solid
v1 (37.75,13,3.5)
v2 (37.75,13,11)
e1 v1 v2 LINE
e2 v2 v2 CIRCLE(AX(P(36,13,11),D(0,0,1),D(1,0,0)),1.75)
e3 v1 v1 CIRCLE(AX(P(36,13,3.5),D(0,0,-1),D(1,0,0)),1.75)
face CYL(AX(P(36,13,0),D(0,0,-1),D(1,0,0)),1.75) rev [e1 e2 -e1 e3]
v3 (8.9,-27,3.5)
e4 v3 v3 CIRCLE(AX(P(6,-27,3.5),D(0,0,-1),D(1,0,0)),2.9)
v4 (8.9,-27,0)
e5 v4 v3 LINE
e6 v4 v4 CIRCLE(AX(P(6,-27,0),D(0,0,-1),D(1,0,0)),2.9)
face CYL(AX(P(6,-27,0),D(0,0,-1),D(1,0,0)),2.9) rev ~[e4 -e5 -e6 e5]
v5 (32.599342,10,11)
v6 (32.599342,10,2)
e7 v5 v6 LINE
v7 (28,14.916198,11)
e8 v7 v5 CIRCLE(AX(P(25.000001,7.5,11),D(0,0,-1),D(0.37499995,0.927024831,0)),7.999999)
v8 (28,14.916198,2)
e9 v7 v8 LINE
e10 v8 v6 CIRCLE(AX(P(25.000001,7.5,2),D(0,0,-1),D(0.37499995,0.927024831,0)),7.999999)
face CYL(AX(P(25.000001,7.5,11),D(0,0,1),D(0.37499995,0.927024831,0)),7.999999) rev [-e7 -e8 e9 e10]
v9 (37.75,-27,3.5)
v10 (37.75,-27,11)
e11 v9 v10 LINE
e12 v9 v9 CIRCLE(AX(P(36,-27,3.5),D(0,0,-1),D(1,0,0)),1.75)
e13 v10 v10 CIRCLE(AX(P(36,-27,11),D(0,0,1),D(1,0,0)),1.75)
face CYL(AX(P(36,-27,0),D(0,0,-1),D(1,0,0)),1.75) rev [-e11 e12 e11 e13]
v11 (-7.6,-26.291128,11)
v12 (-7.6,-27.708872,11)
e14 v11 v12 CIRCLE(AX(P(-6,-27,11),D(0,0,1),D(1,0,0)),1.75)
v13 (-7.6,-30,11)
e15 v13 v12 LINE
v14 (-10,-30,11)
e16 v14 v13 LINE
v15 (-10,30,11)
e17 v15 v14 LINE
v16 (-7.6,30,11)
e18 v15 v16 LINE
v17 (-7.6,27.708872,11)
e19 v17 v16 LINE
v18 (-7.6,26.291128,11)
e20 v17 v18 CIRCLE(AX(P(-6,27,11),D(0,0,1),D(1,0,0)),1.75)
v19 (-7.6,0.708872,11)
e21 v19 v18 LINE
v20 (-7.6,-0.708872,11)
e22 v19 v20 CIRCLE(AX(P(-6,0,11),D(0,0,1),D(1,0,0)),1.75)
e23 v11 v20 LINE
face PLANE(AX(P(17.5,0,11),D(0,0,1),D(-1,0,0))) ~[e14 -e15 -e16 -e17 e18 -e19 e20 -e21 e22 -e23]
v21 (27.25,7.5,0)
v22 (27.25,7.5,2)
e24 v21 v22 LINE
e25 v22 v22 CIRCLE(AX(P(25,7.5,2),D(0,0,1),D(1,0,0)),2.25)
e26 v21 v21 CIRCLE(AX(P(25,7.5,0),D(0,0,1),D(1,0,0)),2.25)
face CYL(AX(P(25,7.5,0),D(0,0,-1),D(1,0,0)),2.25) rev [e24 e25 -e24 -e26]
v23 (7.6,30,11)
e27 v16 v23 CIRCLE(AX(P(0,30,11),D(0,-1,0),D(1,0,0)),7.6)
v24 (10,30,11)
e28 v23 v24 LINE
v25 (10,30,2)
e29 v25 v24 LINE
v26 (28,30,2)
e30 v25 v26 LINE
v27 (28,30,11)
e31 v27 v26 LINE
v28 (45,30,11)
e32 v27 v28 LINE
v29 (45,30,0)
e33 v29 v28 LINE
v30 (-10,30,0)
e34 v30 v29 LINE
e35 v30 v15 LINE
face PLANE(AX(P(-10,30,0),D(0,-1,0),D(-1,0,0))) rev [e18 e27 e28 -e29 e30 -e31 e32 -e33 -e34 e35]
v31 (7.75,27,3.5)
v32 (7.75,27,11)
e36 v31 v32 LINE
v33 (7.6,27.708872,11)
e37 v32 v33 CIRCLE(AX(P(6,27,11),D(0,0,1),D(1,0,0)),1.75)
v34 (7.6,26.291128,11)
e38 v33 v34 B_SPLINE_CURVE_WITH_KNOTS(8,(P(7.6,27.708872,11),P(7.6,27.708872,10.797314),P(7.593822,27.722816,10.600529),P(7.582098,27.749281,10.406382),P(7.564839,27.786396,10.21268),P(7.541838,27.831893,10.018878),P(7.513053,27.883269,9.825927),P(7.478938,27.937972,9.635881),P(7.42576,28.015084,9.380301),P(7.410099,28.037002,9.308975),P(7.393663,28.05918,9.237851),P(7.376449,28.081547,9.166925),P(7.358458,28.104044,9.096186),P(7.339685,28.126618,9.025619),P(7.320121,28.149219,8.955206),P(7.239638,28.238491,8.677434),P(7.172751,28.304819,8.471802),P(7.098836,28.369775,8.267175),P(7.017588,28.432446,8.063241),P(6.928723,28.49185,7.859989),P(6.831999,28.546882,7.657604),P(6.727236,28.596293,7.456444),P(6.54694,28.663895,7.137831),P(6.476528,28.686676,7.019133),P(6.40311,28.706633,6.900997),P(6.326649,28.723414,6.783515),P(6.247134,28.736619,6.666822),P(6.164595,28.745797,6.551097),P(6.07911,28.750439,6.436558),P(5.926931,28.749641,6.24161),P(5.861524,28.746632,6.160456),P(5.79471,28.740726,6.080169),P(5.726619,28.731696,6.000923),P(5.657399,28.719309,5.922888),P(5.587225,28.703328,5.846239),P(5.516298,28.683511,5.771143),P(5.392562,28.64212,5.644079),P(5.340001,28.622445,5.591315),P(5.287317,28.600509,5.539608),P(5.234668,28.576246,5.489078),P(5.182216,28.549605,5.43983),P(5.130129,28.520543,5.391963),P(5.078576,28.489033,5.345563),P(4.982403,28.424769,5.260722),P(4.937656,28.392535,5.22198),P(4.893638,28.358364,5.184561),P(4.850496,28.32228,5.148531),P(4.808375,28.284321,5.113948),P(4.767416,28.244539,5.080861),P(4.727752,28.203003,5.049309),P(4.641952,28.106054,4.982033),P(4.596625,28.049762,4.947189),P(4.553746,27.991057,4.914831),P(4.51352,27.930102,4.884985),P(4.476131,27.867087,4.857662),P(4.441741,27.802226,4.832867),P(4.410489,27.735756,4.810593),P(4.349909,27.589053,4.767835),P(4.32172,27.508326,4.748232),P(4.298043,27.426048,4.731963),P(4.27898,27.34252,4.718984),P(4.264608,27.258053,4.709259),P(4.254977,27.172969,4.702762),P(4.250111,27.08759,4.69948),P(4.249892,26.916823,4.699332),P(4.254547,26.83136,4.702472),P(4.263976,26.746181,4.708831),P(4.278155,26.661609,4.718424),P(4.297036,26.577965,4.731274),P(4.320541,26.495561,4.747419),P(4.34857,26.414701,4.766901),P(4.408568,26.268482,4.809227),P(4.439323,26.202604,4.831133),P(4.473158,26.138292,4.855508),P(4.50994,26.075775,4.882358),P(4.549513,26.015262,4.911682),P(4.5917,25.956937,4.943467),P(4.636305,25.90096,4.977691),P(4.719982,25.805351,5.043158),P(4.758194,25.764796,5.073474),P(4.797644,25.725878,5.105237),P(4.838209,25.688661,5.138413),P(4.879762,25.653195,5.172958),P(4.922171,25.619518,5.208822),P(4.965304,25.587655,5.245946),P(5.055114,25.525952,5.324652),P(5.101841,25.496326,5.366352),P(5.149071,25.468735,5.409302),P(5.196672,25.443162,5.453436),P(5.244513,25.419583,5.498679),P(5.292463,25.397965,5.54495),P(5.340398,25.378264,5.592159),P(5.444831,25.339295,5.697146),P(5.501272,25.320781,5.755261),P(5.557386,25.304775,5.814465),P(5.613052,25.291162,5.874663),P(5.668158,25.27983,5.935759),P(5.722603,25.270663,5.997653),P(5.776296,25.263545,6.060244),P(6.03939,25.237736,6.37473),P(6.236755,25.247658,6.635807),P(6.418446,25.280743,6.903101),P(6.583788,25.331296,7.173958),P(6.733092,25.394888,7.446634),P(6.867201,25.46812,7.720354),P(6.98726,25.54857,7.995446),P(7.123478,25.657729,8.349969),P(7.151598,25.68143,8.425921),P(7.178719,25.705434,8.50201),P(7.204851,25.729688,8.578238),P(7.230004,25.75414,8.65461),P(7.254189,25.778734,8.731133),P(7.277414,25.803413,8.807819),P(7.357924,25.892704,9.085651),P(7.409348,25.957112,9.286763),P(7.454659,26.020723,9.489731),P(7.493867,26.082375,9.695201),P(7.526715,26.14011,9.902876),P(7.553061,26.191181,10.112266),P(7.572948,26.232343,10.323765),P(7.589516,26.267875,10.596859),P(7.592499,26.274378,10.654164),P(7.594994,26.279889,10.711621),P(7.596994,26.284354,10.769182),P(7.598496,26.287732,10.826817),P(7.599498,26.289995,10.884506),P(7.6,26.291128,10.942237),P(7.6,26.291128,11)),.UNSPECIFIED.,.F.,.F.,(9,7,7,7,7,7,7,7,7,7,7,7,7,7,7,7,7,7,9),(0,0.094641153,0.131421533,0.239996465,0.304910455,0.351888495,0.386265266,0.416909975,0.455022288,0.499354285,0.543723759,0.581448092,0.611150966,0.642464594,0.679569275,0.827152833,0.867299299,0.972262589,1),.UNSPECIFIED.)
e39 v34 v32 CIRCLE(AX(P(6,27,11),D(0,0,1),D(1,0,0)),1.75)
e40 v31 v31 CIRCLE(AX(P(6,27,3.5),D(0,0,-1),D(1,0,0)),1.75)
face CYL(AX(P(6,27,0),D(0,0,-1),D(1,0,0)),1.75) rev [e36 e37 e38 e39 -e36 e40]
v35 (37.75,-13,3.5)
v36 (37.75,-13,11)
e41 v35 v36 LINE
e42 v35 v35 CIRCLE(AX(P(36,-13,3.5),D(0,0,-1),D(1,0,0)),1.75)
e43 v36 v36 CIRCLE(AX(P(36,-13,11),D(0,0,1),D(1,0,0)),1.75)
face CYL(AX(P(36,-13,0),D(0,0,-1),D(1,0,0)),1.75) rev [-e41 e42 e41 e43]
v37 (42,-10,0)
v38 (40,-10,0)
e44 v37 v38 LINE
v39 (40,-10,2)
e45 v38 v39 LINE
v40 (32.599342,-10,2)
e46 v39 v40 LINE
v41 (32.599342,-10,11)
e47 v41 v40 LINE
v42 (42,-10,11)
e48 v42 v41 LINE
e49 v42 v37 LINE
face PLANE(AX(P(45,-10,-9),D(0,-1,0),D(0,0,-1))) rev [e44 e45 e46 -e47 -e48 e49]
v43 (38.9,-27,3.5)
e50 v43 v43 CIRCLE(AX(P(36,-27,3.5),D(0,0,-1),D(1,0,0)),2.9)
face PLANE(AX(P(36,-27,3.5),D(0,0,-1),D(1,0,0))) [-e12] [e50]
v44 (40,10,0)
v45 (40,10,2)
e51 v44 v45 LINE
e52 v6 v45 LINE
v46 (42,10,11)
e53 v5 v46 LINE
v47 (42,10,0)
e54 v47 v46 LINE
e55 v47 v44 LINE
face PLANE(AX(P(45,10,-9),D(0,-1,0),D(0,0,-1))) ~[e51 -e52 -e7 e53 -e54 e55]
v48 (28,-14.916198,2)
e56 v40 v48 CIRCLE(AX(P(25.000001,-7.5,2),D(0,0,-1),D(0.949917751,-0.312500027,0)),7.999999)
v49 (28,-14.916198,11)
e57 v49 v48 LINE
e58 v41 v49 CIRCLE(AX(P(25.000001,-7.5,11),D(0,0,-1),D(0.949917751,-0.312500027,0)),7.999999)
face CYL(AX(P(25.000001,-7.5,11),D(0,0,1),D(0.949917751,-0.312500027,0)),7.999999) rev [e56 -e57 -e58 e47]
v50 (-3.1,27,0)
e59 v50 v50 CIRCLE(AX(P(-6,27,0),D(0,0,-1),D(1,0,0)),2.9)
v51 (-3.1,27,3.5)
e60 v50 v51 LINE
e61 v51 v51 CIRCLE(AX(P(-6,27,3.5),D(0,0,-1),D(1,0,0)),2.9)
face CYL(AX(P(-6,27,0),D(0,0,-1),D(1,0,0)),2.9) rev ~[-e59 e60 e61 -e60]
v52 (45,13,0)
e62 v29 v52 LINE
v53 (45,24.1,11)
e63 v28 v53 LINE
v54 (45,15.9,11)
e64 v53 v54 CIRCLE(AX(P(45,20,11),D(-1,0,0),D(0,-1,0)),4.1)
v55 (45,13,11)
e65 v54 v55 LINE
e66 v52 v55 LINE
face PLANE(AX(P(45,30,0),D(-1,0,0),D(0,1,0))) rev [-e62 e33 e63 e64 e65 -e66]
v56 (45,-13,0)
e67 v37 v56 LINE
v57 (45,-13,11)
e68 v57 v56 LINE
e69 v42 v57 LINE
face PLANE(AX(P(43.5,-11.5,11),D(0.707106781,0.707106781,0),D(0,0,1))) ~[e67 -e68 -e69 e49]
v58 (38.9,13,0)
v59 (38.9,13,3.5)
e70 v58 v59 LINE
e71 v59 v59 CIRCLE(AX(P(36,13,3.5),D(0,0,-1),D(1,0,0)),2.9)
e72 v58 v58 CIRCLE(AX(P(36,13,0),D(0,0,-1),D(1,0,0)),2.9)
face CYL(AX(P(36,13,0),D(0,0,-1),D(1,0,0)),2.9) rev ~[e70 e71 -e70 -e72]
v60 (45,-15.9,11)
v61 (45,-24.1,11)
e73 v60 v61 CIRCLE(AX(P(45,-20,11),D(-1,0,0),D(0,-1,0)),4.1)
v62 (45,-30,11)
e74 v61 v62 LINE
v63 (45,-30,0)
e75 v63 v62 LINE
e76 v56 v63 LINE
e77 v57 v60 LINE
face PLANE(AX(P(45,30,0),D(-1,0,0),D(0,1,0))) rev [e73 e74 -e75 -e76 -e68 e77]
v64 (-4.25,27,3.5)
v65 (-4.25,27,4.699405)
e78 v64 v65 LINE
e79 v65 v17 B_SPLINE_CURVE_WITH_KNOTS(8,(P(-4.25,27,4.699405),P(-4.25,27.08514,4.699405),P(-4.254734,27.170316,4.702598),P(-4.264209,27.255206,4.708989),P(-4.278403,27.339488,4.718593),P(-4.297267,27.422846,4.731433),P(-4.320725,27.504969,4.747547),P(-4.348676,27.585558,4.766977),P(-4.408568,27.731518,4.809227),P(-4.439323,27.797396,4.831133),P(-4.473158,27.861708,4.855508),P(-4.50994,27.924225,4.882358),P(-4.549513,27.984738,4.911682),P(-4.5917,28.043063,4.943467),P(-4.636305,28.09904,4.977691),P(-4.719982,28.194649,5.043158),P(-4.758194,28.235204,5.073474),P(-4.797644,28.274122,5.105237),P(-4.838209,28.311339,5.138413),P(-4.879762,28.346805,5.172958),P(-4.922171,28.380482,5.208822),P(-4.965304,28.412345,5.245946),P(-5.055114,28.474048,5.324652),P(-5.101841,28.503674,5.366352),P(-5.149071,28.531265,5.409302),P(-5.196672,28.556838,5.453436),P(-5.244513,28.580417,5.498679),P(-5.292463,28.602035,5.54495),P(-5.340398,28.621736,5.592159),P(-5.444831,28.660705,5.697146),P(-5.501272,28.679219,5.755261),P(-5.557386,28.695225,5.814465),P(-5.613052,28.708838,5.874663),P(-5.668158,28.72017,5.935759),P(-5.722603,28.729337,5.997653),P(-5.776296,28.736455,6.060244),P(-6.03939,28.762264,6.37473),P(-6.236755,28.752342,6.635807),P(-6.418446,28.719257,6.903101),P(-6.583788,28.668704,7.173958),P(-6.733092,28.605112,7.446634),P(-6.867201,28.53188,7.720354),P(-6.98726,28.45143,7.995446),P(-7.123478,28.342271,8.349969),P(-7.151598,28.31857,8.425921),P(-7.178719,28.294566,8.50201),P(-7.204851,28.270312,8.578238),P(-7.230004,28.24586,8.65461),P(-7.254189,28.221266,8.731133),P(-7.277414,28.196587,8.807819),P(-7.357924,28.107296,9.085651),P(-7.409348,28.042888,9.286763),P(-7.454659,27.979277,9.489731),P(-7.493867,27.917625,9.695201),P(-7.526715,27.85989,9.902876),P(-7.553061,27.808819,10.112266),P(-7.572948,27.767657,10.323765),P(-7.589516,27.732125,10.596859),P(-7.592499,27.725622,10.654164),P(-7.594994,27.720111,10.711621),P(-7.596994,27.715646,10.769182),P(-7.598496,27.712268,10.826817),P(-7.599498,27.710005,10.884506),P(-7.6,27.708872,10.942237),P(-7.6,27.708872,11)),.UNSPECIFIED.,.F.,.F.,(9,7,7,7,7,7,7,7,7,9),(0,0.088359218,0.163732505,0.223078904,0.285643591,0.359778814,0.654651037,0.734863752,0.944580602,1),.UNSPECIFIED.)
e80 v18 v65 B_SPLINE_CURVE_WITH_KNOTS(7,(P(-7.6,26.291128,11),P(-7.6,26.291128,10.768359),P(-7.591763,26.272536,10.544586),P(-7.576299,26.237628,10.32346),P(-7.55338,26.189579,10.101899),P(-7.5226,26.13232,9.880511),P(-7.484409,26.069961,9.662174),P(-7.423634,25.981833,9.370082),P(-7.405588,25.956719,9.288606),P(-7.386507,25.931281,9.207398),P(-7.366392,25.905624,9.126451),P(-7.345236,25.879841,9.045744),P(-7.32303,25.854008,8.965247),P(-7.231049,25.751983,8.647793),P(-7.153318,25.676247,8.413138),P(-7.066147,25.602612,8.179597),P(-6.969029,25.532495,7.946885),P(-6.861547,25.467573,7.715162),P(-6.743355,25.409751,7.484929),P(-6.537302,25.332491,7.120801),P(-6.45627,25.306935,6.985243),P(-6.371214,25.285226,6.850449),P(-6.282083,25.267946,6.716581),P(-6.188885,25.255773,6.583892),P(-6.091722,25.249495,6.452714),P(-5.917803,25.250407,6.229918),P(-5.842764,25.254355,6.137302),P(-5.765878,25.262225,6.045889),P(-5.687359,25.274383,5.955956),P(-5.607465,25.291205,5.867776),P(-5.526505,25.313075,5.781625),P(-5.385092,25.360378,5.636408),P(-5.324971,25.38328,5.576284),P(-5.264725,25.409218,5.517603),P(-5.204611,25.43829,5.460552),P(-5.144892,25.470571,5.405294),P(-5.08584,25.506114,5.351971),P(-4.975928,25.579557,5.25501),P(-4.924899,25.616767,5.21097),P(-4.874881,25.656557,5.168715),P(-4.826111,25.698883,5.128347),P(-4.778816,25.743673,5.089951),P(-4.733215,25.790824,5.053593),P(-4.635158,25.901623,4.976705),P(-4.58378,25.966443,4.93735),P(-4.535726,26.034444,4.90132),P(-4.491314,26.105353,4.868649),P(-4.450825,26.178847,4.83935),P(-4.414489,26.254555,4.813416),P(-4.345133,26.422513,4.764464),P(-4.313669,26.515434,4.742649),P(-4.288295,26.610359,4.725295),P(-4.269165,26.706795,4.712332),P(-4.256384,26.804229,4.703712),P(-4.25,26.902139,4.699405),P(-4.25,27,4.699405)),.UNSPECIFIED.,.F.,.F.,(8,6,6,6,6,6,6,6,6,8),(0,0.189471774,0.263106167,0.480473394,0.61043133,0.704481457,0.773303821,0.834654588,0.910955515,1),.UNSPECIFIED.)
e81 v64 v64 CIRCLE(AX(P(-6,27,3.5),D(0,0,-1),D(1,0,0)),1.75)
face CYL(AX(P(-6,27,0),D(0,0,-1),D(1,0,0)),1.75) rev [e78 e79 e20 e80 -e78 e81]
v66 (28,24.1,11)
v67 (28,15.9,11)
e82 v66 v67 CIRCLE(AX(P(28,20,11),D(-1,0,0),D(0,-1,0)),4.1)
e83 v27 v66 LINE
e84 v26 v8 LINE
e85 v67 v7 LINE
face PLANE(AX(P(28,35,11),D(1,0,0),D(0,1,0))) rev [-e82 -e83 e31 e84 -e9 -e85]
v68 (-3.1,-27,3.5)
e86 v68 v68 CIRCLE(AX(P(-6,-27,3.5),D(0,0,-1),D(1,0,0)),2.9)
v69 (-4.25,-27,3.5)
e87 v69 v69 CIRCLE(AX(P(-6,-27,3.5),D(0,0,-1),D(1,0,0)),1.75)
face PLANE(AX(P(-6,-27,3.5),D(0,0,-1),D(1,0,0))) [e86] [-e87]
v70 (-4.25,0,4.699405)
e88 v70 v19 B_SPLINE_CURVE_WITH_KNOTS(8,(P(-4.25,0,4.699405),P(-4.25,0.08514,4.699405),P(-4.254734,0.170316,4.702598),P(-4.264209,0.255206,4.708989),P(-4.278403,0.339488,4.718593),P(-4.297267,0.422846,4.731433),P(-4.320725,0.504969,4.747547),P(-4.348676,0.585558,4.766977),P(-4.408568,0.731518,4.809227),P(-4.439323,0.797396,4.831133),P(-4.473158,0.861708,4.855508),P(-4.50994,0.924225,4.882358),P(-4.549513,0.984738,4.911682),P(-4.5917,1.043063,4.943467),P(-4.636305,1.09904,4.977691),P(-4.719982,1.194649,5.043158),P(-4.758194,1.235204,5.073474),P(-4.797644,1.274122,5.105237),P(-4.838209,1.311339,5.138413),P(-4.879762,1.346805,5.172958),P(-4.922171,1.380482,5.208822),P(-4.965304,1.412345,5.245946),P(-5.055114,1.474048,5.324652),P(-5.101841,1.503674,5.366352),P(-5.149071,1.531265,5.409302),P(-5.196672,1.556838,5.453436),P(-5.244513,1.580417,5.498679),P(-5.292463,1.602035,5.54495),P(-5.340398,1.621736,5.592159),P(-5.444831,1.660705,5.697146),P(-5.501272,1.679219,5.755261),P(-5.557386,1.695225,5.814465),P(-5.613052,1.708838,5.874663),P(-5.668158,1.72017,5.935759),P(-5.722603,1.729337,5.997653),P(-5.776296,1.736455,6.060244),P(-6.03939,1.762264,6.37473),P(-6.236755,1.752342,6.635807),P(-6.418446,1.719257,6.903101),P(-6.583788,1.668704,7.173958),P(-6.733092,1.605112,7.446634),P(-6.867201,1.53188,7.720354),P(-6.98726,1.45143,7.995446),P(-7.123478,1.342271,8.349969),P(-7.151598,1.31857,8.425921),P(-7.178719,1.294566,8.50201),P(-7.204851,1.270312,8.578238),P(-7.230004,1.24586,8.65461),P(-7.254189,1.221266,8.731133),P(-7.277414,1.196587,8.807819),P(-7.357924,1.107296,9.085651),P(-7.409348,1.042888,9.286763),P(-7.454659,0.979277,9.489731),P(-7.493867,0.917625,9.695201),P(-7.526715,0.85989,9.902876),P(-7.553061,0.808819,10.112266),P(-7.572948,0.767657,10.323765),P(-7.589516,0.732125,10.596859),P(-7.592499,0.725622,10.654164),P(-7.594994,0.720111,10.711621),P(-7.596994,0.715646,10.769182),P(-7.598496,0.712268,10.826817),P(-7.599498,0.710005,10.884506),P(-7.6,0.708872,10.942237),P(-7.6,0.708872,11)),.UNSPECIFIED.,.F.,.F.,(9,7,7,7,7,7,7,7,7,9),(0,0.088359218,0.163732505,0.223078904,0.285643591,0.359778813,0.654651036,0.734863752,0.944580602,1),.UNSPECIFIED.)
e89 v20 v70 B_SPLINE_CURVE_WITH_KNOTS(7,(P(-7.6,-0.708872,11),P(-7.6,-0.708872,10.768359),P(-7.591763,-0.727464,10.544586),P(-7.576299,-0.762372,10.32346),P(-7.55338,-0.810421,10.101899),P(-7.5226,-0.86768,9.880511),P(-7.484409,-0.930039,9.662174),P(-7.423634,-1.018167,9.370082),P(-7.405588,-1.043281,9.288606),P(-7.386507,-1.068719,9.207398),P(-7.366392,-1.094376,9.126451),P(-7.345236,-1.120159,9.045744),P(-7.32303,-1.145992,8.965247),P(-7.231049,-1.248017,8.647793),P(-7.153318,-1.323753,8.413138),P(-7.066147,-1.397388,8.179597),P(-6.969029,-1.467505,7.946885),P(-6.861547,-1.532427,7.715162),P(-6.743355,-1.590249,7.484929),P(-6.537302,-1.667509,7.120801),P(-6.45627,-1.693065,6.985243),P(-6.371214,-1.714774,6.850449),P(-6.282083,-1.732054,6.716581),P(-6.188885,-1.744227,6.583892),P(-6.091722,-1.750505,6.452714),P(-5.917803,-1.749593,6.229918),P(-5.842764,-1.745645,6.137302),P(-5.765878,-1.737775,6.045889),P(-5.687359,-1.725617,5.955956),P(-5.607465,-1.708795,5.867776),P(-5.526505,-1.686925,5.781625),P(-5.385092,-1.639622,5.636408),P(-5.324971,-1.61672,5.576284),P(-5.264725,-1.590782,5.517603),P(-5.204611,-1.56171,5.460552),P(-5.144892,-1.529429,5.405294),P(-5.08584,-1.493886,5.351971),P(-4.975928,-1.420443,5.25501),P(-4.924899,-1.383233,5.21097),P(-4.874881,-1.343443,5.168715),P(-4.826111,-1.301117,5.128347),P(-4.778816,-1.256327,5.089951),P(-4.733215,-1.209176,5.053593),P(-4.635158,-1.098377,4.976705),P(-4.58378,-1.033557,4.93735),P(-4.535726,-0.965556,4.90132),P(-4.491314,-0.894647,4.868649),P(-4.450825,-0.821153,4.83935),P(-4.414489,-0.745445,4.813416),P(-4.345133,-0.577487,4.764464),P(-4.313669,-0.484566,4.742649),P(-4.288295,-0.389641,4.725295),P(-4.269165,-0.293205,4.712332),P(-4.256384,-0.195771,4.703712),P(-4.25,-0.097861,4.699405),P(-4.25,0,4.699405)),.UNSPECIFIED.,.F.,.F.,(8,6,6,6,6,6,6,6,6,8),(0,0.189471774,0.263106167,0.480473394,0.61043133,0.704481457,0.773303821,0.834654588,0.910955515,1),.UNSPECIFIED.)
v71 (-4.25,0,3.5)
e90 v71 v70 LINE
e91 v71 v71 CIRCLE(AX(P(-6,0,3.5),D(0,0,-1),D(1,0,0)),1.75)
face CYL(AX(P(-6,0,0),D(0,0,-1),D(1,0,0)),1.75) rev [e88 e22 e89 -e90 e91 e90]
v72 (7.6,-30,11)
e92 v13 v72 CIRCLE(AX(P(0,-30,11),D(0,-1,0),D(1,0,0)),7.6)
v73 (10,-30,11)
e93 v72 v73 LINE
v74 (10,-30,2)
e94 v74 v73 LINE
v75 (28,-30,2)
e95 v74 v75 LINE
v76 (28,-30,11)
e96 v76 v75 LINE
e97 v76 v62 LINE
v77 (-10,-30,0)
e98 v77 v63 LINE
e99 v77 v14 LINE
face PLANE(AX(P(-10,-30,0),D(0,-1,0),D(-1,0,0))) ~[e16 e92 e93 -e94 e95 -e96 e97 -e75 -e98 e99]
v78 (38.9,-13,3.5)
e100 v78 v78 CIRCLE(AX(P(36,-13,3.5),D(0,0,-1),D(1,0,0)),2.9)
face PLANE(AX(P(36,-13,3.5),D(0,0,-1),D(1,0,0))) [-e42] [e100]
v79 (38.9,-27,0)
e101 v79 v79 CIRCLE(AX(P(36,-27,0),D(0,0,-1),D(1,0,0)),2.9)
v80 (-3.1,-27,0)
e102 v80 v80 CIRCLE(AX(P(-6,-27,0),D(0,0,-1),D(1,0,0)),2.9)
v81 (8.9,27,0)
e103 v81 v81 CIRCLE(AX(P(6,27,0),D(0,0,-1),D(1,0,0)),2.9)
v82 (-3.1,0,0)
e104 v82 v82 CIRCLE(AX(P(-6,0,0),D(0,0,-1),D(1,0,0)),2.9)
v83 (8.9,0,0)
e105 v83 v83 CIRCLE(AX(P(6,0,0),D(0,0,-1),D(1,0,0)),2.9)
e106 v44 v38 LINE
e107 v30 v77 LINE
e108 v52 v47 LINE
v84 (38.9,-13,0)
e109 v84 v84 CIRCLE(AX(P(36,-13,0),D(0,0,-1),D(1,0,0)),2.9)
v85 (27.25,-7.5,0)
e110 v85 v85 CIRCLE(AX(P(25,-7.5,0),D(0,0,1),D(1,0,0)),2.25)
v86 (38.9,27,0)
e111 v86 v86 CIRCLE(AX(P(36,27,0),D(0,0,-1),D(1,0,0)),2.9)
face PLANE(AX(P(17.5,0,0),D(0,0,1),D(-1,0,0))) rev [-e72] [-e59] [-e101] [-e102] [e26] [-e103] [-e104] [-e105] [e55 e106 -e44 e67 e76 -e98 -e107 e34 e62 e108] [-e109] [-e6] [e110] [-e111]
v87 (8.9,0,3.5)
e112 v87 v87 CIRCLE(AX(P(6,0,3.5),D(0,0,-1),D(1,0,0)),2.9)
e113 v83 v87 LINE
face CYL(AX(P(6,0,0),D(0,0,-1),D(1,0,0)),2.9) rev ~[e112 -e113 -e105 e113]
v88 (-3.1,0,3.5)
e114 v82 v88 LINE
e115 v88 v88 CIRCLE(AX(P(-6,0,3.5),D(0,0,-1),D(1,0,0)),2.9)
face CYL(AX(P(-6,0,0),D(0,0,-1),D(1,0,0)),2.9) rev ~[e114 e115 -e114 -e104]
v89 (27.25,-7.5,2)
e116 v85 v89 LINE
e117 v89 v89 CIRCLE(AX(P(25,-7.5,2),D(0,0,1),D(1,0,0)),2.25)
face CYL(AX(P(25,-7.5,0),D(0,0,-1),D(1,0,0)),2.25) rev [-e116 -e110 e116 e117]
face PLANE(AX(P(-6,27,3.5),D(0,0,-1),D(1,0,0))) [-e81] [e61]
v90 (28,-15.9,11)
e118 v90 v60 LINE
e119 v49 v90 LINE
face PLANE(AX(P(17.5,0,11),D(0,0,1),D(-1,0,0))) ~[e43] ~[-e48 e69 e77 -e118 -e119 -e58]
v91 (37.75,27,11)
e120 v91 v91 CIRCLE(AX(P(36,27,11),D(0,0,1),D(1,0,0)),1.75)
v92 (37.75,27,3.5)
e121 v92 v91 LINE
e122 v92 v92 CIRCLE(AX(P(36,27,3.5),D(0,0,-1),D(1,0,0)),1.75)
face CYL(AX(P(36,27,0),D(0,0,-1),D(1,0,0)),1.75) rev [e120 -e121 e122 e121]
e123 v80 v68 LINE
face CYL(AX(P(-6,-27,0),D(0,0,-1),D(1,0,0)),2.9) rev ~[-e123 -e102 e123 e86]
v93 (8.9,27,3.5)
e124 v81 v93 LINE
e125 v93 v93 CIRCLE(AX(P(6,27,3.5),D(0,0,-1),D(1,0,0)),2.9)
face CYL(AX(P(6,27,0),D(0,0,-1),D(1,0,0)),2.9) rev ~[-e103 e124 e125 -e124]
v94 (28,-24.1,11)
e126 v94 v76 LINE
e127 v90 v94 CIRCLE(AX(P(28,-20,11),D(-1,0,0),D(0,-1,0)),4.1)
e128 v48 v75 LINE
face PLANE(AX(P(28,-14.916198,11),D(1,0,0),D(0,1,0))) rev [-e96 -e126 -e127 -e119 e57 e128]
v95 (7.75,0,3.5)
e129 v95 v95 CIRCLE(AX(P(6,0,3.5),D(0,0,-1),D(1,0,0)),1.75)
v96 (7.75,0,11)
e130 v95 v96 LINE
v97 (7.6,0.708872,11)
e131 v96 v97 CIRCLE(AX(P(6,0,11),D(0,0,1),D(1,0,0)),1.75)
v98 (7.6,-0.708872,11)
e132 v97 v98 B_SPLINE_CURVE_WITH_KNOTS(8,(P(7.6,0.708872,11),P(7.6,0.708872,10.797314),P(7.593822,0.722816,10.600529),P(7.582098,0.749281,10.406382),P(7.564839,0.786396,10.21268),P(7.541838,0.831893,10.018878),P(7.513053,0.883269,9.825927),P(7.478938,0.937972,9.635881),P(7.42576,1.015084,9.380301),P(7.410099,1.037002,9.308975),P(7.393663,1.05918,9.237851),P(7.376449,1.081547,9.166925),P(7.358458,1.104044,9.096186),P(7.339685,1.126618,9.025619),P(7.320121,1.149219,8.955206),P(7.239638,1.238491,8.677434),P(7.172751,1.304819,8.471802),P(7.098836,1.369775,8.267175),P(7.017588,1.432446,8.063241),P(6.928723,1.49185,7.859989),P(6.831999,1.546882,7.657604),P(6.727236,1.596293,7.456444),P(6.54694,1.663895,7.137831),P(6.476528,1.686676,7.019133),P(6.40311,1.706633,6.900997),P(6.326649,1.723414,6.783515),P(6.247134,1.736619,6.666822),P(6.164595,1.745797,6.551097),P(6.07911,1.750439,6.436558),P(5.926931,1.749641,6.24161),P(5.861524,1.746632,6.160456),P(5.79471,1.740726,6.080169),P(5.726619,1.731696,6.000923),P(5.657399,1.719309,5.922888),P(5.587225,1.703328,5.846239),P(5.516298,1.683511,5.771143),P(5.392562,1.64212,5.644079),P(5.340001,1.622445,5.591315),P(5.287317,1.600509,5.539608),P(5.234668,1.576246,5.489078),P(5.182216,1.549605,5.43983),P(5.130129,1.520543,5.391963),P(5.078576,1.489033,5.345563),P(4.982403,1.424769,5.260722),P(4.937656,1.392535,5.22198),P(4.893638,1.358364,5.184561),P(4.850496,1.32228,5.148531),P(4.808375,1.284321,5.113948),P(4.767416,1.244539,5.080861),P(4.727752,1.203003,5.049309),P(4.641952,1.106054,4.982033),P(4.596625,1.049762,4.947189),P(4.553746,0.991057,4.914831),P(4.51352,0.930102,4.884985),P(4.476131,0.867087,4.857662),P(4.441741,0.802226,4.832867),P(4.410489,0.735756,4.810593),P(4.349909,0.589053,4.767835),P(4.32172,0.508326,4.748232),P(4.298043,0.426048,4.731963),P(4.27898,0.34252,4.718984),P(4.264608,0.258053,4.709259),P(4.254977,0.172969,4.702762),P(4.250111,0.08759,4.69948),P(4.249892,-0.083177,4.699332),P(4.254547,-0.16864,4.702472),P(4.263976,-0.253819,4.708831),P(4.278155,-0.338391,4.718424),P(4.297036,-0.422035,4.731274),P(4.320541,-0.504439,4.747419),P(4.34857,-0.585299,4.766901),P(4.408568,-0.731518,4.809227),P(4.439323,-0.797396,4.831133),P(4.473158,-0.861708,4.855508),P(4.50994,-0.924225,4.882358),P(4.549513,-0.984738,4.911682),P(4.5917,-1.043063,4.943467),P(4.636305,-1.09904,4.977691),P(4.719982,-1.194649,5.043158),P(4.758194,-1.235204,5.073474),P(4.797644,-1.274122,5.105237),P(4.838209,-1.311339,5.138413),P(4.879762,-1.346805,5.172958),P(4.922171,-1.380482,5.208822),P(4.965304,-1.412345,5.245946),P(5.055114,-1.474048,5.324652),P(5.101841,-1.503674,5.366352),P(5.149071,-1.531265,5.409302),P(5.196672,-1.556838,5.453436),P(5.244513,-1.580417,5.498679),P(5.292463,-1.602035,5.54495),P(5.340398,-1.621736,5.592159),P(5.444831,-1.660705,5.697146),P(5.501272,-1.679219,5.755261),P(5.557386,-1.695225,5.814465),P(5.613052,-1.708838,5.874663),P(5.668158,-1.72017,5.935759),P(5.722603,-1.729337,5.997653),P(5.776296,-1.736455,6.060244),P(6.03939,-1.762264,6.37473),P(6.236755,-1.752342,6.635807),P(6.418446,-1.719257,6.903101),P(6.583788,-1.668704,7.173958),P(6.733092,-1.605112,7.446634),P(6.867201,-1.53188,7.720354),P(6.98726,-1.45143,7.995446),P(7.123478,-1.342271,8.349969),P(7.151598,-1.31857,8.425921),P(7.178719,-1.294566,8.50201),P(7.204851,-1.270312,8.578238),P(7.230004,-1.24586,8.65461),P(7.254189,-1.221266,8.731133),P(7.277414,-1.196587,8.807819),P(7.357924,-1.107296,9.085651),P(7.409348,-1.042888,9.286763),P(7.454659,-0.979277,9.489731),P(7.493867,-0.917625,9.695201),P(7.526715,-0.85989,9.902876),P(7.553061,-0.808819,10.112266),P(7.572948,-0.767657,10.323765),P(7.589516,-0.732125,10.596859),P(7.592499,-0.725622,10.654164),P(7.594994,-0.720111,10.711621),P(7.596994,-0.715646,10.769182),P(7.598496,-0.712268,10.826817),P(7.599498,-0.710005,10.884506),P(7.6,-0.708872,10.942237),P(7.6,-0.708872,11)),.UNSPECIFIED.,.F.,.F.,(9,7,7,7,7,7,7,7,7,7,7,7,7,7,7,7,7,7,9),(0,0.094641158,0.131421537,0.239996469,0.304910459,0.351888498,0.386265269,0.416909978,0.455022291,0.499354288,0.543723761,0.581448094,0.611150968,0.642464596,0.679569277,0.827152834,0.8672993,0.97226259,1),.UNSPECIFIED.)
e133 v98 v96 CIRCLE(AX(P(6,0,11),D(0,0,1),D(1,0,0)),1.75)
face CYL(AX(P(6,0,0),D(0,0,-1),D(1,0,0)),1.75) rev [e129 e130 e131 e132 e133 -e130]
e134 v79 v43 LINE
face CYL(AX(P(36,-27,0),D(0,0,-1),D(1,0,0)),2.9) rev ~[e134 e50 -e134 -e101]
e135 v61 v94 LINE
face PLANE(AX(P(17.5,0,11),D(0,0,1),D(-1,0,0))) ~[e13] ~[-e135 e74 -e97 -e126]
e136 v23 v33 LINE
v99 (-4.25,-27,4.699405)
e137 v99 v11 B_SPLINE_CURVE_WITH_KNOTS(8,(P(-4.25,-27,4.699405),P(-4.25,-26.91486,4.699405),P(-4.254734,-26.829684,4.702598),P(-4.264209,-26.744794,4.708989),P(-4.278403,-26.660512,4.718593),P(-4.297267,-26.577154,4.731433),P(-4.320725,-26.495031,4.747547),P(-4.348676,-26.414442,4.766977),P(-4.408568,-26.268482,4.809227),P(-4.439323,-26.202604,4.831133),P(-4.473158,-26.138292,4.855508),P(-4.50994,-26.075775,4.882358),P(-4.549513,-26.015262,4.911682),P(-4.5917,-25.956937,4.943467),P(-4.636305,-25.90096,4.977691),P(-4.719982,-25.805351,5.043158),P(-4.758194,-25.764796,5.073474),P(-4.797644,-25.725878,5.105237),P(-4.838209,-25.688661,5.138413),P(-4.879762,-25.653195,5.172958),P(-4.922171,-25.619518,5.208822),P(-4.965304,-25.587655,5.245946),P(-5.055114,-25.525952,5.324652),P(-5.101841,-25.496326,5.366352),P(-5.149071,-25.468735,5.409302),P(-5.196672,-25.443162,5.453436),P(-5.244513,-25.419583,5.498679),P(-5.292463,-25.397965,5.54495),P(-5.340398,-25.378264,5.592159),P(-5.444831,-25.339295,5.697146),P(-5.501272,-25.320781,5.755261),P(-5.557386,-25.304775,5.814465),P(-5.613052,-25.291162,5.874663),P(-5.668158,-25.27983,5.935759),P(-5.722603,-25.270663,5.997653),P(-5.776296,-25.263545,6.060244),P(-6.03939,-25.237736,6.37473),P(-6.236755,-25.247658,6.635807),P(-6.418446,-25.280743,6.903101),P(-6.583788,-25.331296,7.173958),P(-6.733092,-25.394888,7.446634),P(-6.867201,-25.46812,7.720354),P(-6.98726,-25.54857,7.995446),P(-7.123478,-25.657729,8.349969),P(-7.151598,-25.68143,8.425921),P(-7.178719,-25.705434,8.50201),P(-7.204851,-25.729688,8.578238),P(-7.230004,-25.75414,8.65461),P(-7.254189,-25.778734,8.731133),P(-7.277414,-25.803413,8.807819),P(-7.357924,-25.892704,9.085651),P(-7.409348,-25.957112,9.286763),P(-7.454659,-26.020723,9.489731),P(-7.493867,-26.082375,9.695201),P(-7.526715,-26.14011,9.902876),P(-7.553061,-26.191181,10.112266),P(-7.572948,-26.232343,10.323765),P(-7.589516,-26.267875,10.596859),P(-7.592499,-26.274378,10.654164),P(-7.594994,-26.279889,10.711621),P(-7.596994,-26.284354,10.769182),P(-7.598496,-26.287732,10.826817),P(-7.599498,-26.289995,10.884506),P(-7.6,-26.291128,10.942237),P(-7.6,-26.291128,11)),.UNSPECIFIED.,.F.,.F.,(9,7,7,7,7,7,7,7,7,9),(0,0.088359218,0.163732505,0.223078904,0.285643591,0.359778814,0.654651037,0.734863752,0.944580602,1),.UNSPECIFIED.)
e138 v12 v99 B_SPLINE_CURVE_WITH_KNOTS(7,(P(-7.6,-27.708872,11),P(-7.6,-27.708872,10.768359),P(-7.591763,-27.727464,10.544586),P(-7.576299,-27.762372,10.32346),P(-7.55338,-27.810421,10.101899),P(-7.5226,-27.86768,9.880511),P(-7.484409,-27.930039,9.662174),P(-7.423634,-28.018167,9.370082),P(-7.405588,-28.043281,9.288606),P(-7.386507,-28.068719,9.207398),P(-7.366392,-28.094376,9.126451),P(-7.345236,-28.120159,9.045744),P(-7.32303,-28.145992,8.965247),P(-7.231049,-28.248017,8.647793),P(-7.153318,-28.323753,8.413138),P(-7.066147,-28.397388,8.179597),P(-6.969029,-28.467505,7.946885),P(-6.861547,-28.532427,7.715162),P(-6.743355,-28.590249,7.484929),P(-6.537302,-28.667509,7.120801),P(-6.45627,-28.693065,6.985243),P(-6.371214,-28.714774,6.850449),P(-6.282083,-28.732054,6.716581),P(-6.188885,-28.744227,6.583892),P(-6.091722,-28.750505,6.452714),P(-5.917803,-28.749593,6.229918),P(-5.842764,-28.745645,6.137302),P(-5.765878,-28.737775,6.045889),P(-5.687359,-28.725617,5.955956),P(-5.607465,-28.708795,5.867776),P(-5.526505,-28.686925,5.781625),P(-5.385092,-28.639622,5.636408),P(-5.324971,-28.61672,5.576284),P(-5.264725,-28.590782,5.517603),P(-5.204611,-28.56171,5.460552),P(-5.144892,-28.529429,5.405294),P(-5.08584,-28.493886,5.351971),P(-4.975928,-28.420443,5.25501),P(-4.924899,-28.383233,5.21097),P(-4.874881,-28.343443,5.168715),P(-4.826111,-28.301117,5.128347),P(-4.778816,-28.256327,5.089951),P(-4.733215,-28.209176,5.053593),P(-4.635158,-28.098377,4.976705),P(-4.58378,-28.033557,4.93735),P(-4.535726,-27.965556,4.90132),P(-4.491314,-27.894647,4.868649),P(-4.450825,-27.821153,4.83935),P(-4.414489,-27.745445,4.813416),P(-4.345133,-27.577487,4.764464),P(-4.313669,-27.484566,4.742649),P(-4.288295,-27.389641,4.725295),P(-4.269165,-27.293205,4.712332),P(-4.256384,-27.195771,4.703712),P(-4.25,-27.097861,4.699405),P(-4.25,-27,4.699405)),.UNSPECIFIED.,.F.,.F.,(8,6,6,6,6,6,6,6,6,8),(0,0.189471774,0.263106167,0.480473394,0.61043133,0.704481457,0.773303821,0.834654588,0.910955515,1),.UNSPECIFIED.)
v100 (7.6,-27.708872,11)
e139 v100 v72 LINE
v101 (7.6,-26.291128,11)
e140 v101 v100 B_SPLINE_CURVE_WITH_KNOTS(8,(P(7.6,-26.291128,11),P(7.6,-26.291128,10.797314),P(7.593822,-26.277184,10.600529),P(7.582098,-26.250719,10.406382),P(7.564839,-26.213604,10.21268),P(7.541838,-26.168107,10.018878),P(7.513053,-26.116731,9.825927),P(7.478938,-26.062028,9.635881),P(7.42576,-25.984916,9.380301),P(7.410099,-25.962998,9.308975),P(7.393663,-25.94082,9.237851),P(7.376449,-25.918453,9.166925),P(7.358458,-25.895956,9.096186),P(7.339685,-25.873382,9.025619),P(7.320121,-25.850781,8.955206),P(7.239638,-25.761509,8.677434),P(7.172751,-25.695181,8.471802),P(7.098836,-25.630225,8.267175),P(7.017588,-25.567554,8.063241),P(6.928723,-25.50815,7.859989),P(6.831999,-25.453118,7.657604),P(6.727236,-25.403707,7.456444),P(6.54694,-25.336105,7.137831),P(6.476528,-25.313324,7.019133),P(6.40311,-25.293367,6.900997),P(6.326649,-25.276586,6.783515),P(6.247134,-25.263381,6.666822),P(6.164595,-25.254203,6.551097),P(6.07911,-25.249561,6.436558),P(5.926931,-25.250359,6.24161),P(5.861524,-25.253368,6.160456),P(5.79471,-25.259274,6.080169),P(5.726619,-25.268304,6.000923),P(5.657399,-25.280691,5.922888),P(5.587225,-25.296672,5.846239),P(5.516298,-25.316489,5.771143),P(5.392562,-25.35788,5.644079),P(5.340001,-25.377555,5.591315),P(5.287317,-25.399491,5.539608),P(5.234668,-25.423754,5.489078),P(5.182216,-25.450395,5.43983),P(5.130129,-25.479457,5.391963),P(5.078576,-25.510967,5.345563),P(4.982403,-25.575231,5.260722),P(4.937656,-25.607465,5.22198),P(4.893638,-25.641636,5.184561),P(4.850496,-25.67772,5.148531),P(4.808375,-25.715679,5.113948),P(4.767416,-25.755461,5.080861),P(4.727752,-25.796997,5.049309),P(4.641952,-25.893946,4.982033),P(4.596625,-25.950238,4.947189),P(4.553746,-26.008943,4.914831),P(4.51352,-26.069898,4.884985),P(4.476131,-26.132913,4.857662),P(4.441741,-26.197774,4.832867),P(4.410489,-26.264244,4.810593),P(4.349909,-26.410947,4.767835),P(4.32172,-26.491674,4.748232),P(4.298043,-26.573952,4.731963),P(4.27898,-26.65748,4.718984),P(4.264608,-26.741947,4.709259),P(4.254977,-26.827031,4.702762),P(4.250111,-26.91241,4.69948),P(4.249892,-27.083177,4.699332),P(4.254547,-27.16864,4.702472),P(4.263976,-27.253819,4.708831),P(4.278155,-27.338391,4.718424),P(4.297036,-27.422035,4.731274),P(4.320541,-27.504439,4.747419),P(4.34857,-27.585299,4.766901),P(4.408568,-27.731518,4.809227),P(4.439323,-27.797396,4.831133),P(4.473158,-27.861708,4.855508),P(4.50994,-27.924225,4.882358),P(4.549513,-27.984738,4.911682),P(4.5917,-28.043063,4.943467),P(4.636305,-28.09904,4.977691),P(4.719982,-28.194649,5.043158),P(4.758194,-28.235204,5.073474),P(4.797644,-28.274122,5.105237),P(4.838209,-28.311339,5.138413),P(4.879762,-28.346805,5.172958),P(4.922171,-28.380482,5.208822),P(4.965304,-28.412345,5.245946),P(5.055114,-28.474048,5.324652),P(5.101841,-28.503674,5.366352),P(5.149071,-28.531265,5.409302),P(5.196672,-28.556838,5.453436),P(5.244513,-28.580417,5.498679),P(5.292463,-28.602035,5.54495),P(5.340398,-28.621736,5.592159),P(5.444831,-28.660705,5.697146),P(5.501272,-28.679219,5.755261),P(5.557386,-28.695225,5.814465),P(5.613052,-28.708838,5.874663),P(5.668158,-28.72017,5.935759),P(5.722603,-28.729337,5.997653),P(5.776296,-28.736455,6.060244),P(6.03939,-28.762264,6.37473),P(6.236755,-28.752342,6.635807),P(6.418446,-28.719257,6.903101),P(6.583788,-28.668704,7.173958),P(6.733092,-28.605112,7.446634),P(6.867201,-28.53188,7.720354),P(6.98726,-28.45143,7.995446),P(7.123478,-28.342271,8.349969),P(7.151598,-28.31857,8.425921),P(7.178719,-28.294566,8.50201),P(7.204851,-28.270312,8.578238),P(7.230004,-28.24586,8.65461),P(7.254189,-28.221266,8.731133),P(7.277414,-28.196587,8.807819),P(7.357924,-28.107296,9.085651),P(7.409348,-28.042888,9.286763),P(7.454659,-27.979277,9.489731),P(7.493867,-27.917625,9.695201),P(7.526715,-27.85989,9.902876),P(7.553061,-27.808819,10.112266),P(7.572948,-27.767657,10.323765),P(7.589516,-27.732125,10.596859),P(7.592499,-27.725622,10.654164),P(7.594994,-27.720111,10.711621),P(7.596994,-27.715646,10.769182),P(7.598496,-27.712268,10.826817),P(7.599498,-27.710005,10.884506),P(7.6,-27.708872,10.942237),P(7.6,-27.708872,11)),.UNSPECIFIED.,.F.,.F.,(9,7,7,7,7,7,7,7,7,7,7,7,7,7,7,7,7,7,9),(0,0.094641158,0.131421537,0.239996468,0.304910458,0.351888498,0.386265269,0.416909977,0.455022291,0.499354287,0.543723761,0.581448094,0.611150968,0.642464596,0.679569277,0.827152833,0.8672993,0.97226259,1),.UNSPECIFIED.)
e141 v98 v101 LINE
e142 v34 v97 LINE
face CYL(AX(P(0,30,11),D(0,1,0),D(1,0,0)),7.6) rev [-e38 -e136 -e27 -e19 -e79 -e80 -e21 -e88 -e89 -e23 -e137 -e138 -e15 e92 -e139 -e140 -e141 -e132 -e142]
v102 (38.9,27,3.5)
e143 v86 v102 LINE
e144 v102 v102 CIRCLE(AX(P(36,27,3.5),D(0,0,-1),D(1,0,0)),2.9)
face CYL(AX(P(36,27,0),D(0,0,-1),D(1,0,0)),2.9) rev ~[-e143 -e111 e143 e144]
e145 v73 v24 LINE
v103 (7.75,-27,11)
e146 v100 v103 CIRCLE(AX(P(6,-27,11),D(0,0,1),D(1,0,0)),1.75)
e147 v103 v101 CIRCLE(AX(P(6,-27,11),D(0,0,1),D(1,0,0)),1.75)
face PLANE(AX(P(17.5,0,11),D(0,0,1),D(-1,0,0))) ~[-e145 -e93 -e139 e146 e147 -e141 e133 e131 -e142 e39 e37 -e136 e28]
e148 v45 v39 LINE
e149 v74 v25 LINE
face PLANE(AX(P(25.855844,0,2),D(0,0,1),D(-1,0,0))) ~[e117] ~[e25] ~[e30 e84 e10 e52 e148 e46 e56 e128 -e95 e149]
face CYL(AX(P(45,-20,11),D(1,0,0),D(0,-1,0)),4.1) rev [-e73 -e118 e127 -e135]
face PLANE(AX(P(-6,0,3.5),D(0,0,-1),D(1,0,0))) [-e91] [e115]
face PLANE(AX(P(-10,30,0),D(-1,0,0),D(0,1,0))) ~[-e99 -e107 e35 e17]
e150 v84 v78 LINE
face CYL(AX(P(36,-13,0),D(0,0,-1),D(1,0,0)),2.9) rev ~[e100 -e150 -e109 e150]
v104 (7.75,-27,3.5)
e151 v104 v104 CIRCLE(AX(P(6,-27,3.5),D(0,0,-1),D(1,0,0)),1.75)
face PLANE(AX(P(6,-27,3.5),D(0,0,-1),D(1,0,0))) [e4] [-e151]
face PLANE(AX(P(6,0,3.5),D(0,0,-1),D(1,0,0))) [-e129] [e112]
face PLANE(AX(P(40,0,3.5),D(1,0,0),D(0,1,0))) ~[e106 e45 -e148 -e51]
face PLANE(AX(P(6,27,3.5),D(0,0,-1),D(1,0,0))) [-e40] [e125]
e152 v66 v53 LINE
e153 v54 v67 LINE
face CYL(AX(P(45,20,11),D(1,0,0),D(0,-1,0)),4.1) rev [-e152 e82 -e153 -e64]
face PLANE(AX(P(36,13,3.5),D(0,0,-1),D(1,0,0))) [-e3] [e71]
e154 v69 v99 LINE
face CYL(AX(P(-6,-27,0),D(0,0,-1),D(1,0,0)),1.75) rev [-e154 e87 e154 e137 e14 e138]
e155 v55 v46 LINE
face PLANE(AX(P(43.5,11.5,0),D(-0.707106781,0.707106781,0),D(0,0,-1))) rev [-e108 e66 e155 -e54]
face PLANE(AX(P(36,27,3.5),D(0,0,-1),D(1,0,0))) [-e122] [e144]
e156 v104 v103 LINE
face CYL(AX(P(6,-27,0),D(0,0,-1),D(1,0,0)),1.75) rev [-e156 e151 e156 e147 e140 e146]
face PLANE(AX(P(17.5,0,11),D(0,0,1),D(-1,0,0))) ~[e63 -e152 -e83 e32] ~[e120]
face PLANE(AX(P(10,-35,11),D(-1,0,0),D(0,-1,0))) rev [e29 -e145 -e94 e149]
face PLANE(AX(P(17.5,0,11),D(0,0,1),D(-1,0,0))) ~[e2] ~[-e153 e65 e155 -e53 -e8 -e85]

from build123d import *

# Parameters (mm, degrees)
SKETCH_W                       = 55
SKETCH_H                       = 60
PAD_DEPTH                      = 11
SKETCH001_R                    = 7.6
POCKET_DEPTH                   = 60.001
SKETCH002_R                    = 1.75
POCKET001_DEPTH                = 11.001
POCKET002_DEPTH                = 9
SKETCH004_R                    = 2.25
POCKET003_DEPTH                = 11.001
SKETCH008_R                    = 4.1
POCKET005_DEPTH                = 20
SKETCH010_W                    = 20
SKETCH010_H                    = 25
POCKET006_DEPTH                = 5
CHAMFER_SIZE                   = 3
CHAMFER001_SIZE                = 3
PART_MIRRORING_PLACEMENT_ANGLE = 180
SKETCH011_R                    = 2.9
POCKET007_DEPTH                = 3.5


with BuildPart() as chamfer002:
    # Sketch → Pad (new body)
    with BuildSketch(Plane.XY):
        with Locations((17.5, 0)):
            Rectangle(SKETCH_W, SKETCH_H)
    extrude(amount=PAD_DEPTH)

    # Sketch001 → Pocket (cut, through all)
    with BuildSketch(Plane.XZ.offset(30)):
        with Locations((0, 11)):
            Circle(SKETCH001_R)
    extrude(amount=-POCKET_DEPTH, mode=Mode.SUBTRACT)

    # Sketch002 → Pocket001 (cut, through all)
    with BuildSketch(Plane(origin=(0, 0, 0), x_dir=(1, 0, 0), z_dir=(0, 0, -1))):
        with Locations((-6, 27)):
            Circle(SKETCH002_R)
        with Locations((36, 27)):
            Circle(SKETCH002_R)
        with Locations((-6, -27)):
            Circle(SKETCH002_R)
        with Locations((36, -27)):
            Circle(SKETCH002_R)
        with Locations((6, 27)):
            Circle(SKETCH002_R)
        with Locations((6, -27)):
            Circle(SKETCH002_R)
        with Locations((6, 0)):
            Circle(SKETCH002_R)
        with Locations((-6, 0)):
            Circle(SKETCH002_R)
        with Locations((36, -13)):
            Circle(SKETCH002_R)
        with Locations((36, 13)):
            Circle(SKETCH002_R)
    extrude(amount=-POCKET001_DEPTH, mode=Mode.SUBTRACT)

    # Sketch003 → Pocket002 (cut)
    with BuildSketch(Plane.XY.offset(11)):
        with BuildLine():
            Line((10, 35), (10, -35))
            Line((10, -35), (28, -35))
            Line((28, -35), (28, -14.916198))
            ThreePointArc((28, -14.916198), (30.841983, -12.965458), (32.599342, -10))
            Line((32.599342, -10), (52.599342, -10))
            Line((52.599342, -10), (52.599342, 10))
            Line((52.599342, 10), (32.599342, 10))
            ThreePointArc((32.599342, 10), (30.841983, 12.965458), (28, 14.916198))
            Line((28, 14.916198), (28, 35))
            Line((28, 35), (10, 35))
        make_face()
    extrude(amount=-POCKET002_DEPTH, mode=Mode.SUBTRACT)

    # Sketch004 → Pocket003 (cut, through all)
    with BuildSketch(Plane(origin=(0, 0, 0), x_dir=(1, 0, 0), z_dir=(0, 0, -1))):
        with Locations((25, 7.5)):
            Circle(SKETCH004_R)
        with Locations((25, -7.5)):
            Circle(SKETCH004_R)
    extrude(amount=-POCKET003_DEPTH, mode=Mode.SUBTRACT)

    # Sketch008 → Pocket005 (cut)
    with BuildSketch(Plane.YZ.offset(45)):
        with Locations((-20, 11)):
            Circle(SKETCH008_R)
        with Locations((20, 11)):
            Circle(SKETCH008_R)
    extrude(amount=-POCKET005_DEPTH, mode=Mode.SUBTRACT)

    # Sketch010 → Pocket006 (cut)
    with BuildSketch(Plane.YZ.offset(45)):
        with Locations((0, 3.5)):
            Rectangle(SKETCH010_W, SKETCH010_H)
    extrude(amount=-POCKET006_DEPTH, mode=Mode.SUBTRACT)

    # Chamfer
    chamfer_edges = [chamfer002.edges().sort_by_distance(p)[0] for p in [
        (45, -10, 6.5),
    ]]
    chamfer(chamfer_edges, length=CHAMFER_SIZE)

    # Chamfer001
    chamfer001_edges = [chamfer002.edges().sort_by_distance(p)[0] for p in [
        (45, 10, 6.5),
    ]]
    chamfer(chamfer001_edges, length=CHAMFER001_SIZE)


with BuildPart() as pocket007:
    # Part__Mirroring: instance of Chamfer002
    add(chamfer002.part.mirror(Plane(origin=(0, 0, 0), x_dir=(0, 1, 0), z_dir=(0, 0, 1))))


with BuildPart() as pocket007_1:
    # Part__Mirroring placement: moved
    add(pocket007.part.rotate(Axis((0, 0, 0), (1, 0, 0)), PART_MIRRORING_PLACEMENT_ANGLE))

    # Sketch011 → Pocket007 (cut)
    with BuildSketch(Plane(origin=(0, 0, 0), x_dir=(1, 0, 0), z_dir=(0, 0, -1))):
        with Locations((36, 27)):
            Circle(SKETCH011_R)
        with Locations((36, 13)):
            Circle(SKETCH011_R)
        with Locations((36, -13)):
            Circle(SKETCH011_R)
        with Locations((36, -27)):
            Circle(SKETCH011_R)
        with Locations((-6, 27)):
            Circle(SKETCH011_R)
        with Locations((6, 27)):
            Circle(SKETCH011_R)
        with Locations((-6, 0)):
            Circle(SKETCH011_R)
        with Locations((6, 0)):
            Circle(SKETCH011_R)
        with Locations((-6, -27)):
            Circle(SKETCH011_R)
        with Locations((6, -27)):
            Circle(SKETCH011_R)
    extrude(amount=-POCKET007_DEPTH, mode=Mode.SUBTRACT)


solid = pocket007_1.part
